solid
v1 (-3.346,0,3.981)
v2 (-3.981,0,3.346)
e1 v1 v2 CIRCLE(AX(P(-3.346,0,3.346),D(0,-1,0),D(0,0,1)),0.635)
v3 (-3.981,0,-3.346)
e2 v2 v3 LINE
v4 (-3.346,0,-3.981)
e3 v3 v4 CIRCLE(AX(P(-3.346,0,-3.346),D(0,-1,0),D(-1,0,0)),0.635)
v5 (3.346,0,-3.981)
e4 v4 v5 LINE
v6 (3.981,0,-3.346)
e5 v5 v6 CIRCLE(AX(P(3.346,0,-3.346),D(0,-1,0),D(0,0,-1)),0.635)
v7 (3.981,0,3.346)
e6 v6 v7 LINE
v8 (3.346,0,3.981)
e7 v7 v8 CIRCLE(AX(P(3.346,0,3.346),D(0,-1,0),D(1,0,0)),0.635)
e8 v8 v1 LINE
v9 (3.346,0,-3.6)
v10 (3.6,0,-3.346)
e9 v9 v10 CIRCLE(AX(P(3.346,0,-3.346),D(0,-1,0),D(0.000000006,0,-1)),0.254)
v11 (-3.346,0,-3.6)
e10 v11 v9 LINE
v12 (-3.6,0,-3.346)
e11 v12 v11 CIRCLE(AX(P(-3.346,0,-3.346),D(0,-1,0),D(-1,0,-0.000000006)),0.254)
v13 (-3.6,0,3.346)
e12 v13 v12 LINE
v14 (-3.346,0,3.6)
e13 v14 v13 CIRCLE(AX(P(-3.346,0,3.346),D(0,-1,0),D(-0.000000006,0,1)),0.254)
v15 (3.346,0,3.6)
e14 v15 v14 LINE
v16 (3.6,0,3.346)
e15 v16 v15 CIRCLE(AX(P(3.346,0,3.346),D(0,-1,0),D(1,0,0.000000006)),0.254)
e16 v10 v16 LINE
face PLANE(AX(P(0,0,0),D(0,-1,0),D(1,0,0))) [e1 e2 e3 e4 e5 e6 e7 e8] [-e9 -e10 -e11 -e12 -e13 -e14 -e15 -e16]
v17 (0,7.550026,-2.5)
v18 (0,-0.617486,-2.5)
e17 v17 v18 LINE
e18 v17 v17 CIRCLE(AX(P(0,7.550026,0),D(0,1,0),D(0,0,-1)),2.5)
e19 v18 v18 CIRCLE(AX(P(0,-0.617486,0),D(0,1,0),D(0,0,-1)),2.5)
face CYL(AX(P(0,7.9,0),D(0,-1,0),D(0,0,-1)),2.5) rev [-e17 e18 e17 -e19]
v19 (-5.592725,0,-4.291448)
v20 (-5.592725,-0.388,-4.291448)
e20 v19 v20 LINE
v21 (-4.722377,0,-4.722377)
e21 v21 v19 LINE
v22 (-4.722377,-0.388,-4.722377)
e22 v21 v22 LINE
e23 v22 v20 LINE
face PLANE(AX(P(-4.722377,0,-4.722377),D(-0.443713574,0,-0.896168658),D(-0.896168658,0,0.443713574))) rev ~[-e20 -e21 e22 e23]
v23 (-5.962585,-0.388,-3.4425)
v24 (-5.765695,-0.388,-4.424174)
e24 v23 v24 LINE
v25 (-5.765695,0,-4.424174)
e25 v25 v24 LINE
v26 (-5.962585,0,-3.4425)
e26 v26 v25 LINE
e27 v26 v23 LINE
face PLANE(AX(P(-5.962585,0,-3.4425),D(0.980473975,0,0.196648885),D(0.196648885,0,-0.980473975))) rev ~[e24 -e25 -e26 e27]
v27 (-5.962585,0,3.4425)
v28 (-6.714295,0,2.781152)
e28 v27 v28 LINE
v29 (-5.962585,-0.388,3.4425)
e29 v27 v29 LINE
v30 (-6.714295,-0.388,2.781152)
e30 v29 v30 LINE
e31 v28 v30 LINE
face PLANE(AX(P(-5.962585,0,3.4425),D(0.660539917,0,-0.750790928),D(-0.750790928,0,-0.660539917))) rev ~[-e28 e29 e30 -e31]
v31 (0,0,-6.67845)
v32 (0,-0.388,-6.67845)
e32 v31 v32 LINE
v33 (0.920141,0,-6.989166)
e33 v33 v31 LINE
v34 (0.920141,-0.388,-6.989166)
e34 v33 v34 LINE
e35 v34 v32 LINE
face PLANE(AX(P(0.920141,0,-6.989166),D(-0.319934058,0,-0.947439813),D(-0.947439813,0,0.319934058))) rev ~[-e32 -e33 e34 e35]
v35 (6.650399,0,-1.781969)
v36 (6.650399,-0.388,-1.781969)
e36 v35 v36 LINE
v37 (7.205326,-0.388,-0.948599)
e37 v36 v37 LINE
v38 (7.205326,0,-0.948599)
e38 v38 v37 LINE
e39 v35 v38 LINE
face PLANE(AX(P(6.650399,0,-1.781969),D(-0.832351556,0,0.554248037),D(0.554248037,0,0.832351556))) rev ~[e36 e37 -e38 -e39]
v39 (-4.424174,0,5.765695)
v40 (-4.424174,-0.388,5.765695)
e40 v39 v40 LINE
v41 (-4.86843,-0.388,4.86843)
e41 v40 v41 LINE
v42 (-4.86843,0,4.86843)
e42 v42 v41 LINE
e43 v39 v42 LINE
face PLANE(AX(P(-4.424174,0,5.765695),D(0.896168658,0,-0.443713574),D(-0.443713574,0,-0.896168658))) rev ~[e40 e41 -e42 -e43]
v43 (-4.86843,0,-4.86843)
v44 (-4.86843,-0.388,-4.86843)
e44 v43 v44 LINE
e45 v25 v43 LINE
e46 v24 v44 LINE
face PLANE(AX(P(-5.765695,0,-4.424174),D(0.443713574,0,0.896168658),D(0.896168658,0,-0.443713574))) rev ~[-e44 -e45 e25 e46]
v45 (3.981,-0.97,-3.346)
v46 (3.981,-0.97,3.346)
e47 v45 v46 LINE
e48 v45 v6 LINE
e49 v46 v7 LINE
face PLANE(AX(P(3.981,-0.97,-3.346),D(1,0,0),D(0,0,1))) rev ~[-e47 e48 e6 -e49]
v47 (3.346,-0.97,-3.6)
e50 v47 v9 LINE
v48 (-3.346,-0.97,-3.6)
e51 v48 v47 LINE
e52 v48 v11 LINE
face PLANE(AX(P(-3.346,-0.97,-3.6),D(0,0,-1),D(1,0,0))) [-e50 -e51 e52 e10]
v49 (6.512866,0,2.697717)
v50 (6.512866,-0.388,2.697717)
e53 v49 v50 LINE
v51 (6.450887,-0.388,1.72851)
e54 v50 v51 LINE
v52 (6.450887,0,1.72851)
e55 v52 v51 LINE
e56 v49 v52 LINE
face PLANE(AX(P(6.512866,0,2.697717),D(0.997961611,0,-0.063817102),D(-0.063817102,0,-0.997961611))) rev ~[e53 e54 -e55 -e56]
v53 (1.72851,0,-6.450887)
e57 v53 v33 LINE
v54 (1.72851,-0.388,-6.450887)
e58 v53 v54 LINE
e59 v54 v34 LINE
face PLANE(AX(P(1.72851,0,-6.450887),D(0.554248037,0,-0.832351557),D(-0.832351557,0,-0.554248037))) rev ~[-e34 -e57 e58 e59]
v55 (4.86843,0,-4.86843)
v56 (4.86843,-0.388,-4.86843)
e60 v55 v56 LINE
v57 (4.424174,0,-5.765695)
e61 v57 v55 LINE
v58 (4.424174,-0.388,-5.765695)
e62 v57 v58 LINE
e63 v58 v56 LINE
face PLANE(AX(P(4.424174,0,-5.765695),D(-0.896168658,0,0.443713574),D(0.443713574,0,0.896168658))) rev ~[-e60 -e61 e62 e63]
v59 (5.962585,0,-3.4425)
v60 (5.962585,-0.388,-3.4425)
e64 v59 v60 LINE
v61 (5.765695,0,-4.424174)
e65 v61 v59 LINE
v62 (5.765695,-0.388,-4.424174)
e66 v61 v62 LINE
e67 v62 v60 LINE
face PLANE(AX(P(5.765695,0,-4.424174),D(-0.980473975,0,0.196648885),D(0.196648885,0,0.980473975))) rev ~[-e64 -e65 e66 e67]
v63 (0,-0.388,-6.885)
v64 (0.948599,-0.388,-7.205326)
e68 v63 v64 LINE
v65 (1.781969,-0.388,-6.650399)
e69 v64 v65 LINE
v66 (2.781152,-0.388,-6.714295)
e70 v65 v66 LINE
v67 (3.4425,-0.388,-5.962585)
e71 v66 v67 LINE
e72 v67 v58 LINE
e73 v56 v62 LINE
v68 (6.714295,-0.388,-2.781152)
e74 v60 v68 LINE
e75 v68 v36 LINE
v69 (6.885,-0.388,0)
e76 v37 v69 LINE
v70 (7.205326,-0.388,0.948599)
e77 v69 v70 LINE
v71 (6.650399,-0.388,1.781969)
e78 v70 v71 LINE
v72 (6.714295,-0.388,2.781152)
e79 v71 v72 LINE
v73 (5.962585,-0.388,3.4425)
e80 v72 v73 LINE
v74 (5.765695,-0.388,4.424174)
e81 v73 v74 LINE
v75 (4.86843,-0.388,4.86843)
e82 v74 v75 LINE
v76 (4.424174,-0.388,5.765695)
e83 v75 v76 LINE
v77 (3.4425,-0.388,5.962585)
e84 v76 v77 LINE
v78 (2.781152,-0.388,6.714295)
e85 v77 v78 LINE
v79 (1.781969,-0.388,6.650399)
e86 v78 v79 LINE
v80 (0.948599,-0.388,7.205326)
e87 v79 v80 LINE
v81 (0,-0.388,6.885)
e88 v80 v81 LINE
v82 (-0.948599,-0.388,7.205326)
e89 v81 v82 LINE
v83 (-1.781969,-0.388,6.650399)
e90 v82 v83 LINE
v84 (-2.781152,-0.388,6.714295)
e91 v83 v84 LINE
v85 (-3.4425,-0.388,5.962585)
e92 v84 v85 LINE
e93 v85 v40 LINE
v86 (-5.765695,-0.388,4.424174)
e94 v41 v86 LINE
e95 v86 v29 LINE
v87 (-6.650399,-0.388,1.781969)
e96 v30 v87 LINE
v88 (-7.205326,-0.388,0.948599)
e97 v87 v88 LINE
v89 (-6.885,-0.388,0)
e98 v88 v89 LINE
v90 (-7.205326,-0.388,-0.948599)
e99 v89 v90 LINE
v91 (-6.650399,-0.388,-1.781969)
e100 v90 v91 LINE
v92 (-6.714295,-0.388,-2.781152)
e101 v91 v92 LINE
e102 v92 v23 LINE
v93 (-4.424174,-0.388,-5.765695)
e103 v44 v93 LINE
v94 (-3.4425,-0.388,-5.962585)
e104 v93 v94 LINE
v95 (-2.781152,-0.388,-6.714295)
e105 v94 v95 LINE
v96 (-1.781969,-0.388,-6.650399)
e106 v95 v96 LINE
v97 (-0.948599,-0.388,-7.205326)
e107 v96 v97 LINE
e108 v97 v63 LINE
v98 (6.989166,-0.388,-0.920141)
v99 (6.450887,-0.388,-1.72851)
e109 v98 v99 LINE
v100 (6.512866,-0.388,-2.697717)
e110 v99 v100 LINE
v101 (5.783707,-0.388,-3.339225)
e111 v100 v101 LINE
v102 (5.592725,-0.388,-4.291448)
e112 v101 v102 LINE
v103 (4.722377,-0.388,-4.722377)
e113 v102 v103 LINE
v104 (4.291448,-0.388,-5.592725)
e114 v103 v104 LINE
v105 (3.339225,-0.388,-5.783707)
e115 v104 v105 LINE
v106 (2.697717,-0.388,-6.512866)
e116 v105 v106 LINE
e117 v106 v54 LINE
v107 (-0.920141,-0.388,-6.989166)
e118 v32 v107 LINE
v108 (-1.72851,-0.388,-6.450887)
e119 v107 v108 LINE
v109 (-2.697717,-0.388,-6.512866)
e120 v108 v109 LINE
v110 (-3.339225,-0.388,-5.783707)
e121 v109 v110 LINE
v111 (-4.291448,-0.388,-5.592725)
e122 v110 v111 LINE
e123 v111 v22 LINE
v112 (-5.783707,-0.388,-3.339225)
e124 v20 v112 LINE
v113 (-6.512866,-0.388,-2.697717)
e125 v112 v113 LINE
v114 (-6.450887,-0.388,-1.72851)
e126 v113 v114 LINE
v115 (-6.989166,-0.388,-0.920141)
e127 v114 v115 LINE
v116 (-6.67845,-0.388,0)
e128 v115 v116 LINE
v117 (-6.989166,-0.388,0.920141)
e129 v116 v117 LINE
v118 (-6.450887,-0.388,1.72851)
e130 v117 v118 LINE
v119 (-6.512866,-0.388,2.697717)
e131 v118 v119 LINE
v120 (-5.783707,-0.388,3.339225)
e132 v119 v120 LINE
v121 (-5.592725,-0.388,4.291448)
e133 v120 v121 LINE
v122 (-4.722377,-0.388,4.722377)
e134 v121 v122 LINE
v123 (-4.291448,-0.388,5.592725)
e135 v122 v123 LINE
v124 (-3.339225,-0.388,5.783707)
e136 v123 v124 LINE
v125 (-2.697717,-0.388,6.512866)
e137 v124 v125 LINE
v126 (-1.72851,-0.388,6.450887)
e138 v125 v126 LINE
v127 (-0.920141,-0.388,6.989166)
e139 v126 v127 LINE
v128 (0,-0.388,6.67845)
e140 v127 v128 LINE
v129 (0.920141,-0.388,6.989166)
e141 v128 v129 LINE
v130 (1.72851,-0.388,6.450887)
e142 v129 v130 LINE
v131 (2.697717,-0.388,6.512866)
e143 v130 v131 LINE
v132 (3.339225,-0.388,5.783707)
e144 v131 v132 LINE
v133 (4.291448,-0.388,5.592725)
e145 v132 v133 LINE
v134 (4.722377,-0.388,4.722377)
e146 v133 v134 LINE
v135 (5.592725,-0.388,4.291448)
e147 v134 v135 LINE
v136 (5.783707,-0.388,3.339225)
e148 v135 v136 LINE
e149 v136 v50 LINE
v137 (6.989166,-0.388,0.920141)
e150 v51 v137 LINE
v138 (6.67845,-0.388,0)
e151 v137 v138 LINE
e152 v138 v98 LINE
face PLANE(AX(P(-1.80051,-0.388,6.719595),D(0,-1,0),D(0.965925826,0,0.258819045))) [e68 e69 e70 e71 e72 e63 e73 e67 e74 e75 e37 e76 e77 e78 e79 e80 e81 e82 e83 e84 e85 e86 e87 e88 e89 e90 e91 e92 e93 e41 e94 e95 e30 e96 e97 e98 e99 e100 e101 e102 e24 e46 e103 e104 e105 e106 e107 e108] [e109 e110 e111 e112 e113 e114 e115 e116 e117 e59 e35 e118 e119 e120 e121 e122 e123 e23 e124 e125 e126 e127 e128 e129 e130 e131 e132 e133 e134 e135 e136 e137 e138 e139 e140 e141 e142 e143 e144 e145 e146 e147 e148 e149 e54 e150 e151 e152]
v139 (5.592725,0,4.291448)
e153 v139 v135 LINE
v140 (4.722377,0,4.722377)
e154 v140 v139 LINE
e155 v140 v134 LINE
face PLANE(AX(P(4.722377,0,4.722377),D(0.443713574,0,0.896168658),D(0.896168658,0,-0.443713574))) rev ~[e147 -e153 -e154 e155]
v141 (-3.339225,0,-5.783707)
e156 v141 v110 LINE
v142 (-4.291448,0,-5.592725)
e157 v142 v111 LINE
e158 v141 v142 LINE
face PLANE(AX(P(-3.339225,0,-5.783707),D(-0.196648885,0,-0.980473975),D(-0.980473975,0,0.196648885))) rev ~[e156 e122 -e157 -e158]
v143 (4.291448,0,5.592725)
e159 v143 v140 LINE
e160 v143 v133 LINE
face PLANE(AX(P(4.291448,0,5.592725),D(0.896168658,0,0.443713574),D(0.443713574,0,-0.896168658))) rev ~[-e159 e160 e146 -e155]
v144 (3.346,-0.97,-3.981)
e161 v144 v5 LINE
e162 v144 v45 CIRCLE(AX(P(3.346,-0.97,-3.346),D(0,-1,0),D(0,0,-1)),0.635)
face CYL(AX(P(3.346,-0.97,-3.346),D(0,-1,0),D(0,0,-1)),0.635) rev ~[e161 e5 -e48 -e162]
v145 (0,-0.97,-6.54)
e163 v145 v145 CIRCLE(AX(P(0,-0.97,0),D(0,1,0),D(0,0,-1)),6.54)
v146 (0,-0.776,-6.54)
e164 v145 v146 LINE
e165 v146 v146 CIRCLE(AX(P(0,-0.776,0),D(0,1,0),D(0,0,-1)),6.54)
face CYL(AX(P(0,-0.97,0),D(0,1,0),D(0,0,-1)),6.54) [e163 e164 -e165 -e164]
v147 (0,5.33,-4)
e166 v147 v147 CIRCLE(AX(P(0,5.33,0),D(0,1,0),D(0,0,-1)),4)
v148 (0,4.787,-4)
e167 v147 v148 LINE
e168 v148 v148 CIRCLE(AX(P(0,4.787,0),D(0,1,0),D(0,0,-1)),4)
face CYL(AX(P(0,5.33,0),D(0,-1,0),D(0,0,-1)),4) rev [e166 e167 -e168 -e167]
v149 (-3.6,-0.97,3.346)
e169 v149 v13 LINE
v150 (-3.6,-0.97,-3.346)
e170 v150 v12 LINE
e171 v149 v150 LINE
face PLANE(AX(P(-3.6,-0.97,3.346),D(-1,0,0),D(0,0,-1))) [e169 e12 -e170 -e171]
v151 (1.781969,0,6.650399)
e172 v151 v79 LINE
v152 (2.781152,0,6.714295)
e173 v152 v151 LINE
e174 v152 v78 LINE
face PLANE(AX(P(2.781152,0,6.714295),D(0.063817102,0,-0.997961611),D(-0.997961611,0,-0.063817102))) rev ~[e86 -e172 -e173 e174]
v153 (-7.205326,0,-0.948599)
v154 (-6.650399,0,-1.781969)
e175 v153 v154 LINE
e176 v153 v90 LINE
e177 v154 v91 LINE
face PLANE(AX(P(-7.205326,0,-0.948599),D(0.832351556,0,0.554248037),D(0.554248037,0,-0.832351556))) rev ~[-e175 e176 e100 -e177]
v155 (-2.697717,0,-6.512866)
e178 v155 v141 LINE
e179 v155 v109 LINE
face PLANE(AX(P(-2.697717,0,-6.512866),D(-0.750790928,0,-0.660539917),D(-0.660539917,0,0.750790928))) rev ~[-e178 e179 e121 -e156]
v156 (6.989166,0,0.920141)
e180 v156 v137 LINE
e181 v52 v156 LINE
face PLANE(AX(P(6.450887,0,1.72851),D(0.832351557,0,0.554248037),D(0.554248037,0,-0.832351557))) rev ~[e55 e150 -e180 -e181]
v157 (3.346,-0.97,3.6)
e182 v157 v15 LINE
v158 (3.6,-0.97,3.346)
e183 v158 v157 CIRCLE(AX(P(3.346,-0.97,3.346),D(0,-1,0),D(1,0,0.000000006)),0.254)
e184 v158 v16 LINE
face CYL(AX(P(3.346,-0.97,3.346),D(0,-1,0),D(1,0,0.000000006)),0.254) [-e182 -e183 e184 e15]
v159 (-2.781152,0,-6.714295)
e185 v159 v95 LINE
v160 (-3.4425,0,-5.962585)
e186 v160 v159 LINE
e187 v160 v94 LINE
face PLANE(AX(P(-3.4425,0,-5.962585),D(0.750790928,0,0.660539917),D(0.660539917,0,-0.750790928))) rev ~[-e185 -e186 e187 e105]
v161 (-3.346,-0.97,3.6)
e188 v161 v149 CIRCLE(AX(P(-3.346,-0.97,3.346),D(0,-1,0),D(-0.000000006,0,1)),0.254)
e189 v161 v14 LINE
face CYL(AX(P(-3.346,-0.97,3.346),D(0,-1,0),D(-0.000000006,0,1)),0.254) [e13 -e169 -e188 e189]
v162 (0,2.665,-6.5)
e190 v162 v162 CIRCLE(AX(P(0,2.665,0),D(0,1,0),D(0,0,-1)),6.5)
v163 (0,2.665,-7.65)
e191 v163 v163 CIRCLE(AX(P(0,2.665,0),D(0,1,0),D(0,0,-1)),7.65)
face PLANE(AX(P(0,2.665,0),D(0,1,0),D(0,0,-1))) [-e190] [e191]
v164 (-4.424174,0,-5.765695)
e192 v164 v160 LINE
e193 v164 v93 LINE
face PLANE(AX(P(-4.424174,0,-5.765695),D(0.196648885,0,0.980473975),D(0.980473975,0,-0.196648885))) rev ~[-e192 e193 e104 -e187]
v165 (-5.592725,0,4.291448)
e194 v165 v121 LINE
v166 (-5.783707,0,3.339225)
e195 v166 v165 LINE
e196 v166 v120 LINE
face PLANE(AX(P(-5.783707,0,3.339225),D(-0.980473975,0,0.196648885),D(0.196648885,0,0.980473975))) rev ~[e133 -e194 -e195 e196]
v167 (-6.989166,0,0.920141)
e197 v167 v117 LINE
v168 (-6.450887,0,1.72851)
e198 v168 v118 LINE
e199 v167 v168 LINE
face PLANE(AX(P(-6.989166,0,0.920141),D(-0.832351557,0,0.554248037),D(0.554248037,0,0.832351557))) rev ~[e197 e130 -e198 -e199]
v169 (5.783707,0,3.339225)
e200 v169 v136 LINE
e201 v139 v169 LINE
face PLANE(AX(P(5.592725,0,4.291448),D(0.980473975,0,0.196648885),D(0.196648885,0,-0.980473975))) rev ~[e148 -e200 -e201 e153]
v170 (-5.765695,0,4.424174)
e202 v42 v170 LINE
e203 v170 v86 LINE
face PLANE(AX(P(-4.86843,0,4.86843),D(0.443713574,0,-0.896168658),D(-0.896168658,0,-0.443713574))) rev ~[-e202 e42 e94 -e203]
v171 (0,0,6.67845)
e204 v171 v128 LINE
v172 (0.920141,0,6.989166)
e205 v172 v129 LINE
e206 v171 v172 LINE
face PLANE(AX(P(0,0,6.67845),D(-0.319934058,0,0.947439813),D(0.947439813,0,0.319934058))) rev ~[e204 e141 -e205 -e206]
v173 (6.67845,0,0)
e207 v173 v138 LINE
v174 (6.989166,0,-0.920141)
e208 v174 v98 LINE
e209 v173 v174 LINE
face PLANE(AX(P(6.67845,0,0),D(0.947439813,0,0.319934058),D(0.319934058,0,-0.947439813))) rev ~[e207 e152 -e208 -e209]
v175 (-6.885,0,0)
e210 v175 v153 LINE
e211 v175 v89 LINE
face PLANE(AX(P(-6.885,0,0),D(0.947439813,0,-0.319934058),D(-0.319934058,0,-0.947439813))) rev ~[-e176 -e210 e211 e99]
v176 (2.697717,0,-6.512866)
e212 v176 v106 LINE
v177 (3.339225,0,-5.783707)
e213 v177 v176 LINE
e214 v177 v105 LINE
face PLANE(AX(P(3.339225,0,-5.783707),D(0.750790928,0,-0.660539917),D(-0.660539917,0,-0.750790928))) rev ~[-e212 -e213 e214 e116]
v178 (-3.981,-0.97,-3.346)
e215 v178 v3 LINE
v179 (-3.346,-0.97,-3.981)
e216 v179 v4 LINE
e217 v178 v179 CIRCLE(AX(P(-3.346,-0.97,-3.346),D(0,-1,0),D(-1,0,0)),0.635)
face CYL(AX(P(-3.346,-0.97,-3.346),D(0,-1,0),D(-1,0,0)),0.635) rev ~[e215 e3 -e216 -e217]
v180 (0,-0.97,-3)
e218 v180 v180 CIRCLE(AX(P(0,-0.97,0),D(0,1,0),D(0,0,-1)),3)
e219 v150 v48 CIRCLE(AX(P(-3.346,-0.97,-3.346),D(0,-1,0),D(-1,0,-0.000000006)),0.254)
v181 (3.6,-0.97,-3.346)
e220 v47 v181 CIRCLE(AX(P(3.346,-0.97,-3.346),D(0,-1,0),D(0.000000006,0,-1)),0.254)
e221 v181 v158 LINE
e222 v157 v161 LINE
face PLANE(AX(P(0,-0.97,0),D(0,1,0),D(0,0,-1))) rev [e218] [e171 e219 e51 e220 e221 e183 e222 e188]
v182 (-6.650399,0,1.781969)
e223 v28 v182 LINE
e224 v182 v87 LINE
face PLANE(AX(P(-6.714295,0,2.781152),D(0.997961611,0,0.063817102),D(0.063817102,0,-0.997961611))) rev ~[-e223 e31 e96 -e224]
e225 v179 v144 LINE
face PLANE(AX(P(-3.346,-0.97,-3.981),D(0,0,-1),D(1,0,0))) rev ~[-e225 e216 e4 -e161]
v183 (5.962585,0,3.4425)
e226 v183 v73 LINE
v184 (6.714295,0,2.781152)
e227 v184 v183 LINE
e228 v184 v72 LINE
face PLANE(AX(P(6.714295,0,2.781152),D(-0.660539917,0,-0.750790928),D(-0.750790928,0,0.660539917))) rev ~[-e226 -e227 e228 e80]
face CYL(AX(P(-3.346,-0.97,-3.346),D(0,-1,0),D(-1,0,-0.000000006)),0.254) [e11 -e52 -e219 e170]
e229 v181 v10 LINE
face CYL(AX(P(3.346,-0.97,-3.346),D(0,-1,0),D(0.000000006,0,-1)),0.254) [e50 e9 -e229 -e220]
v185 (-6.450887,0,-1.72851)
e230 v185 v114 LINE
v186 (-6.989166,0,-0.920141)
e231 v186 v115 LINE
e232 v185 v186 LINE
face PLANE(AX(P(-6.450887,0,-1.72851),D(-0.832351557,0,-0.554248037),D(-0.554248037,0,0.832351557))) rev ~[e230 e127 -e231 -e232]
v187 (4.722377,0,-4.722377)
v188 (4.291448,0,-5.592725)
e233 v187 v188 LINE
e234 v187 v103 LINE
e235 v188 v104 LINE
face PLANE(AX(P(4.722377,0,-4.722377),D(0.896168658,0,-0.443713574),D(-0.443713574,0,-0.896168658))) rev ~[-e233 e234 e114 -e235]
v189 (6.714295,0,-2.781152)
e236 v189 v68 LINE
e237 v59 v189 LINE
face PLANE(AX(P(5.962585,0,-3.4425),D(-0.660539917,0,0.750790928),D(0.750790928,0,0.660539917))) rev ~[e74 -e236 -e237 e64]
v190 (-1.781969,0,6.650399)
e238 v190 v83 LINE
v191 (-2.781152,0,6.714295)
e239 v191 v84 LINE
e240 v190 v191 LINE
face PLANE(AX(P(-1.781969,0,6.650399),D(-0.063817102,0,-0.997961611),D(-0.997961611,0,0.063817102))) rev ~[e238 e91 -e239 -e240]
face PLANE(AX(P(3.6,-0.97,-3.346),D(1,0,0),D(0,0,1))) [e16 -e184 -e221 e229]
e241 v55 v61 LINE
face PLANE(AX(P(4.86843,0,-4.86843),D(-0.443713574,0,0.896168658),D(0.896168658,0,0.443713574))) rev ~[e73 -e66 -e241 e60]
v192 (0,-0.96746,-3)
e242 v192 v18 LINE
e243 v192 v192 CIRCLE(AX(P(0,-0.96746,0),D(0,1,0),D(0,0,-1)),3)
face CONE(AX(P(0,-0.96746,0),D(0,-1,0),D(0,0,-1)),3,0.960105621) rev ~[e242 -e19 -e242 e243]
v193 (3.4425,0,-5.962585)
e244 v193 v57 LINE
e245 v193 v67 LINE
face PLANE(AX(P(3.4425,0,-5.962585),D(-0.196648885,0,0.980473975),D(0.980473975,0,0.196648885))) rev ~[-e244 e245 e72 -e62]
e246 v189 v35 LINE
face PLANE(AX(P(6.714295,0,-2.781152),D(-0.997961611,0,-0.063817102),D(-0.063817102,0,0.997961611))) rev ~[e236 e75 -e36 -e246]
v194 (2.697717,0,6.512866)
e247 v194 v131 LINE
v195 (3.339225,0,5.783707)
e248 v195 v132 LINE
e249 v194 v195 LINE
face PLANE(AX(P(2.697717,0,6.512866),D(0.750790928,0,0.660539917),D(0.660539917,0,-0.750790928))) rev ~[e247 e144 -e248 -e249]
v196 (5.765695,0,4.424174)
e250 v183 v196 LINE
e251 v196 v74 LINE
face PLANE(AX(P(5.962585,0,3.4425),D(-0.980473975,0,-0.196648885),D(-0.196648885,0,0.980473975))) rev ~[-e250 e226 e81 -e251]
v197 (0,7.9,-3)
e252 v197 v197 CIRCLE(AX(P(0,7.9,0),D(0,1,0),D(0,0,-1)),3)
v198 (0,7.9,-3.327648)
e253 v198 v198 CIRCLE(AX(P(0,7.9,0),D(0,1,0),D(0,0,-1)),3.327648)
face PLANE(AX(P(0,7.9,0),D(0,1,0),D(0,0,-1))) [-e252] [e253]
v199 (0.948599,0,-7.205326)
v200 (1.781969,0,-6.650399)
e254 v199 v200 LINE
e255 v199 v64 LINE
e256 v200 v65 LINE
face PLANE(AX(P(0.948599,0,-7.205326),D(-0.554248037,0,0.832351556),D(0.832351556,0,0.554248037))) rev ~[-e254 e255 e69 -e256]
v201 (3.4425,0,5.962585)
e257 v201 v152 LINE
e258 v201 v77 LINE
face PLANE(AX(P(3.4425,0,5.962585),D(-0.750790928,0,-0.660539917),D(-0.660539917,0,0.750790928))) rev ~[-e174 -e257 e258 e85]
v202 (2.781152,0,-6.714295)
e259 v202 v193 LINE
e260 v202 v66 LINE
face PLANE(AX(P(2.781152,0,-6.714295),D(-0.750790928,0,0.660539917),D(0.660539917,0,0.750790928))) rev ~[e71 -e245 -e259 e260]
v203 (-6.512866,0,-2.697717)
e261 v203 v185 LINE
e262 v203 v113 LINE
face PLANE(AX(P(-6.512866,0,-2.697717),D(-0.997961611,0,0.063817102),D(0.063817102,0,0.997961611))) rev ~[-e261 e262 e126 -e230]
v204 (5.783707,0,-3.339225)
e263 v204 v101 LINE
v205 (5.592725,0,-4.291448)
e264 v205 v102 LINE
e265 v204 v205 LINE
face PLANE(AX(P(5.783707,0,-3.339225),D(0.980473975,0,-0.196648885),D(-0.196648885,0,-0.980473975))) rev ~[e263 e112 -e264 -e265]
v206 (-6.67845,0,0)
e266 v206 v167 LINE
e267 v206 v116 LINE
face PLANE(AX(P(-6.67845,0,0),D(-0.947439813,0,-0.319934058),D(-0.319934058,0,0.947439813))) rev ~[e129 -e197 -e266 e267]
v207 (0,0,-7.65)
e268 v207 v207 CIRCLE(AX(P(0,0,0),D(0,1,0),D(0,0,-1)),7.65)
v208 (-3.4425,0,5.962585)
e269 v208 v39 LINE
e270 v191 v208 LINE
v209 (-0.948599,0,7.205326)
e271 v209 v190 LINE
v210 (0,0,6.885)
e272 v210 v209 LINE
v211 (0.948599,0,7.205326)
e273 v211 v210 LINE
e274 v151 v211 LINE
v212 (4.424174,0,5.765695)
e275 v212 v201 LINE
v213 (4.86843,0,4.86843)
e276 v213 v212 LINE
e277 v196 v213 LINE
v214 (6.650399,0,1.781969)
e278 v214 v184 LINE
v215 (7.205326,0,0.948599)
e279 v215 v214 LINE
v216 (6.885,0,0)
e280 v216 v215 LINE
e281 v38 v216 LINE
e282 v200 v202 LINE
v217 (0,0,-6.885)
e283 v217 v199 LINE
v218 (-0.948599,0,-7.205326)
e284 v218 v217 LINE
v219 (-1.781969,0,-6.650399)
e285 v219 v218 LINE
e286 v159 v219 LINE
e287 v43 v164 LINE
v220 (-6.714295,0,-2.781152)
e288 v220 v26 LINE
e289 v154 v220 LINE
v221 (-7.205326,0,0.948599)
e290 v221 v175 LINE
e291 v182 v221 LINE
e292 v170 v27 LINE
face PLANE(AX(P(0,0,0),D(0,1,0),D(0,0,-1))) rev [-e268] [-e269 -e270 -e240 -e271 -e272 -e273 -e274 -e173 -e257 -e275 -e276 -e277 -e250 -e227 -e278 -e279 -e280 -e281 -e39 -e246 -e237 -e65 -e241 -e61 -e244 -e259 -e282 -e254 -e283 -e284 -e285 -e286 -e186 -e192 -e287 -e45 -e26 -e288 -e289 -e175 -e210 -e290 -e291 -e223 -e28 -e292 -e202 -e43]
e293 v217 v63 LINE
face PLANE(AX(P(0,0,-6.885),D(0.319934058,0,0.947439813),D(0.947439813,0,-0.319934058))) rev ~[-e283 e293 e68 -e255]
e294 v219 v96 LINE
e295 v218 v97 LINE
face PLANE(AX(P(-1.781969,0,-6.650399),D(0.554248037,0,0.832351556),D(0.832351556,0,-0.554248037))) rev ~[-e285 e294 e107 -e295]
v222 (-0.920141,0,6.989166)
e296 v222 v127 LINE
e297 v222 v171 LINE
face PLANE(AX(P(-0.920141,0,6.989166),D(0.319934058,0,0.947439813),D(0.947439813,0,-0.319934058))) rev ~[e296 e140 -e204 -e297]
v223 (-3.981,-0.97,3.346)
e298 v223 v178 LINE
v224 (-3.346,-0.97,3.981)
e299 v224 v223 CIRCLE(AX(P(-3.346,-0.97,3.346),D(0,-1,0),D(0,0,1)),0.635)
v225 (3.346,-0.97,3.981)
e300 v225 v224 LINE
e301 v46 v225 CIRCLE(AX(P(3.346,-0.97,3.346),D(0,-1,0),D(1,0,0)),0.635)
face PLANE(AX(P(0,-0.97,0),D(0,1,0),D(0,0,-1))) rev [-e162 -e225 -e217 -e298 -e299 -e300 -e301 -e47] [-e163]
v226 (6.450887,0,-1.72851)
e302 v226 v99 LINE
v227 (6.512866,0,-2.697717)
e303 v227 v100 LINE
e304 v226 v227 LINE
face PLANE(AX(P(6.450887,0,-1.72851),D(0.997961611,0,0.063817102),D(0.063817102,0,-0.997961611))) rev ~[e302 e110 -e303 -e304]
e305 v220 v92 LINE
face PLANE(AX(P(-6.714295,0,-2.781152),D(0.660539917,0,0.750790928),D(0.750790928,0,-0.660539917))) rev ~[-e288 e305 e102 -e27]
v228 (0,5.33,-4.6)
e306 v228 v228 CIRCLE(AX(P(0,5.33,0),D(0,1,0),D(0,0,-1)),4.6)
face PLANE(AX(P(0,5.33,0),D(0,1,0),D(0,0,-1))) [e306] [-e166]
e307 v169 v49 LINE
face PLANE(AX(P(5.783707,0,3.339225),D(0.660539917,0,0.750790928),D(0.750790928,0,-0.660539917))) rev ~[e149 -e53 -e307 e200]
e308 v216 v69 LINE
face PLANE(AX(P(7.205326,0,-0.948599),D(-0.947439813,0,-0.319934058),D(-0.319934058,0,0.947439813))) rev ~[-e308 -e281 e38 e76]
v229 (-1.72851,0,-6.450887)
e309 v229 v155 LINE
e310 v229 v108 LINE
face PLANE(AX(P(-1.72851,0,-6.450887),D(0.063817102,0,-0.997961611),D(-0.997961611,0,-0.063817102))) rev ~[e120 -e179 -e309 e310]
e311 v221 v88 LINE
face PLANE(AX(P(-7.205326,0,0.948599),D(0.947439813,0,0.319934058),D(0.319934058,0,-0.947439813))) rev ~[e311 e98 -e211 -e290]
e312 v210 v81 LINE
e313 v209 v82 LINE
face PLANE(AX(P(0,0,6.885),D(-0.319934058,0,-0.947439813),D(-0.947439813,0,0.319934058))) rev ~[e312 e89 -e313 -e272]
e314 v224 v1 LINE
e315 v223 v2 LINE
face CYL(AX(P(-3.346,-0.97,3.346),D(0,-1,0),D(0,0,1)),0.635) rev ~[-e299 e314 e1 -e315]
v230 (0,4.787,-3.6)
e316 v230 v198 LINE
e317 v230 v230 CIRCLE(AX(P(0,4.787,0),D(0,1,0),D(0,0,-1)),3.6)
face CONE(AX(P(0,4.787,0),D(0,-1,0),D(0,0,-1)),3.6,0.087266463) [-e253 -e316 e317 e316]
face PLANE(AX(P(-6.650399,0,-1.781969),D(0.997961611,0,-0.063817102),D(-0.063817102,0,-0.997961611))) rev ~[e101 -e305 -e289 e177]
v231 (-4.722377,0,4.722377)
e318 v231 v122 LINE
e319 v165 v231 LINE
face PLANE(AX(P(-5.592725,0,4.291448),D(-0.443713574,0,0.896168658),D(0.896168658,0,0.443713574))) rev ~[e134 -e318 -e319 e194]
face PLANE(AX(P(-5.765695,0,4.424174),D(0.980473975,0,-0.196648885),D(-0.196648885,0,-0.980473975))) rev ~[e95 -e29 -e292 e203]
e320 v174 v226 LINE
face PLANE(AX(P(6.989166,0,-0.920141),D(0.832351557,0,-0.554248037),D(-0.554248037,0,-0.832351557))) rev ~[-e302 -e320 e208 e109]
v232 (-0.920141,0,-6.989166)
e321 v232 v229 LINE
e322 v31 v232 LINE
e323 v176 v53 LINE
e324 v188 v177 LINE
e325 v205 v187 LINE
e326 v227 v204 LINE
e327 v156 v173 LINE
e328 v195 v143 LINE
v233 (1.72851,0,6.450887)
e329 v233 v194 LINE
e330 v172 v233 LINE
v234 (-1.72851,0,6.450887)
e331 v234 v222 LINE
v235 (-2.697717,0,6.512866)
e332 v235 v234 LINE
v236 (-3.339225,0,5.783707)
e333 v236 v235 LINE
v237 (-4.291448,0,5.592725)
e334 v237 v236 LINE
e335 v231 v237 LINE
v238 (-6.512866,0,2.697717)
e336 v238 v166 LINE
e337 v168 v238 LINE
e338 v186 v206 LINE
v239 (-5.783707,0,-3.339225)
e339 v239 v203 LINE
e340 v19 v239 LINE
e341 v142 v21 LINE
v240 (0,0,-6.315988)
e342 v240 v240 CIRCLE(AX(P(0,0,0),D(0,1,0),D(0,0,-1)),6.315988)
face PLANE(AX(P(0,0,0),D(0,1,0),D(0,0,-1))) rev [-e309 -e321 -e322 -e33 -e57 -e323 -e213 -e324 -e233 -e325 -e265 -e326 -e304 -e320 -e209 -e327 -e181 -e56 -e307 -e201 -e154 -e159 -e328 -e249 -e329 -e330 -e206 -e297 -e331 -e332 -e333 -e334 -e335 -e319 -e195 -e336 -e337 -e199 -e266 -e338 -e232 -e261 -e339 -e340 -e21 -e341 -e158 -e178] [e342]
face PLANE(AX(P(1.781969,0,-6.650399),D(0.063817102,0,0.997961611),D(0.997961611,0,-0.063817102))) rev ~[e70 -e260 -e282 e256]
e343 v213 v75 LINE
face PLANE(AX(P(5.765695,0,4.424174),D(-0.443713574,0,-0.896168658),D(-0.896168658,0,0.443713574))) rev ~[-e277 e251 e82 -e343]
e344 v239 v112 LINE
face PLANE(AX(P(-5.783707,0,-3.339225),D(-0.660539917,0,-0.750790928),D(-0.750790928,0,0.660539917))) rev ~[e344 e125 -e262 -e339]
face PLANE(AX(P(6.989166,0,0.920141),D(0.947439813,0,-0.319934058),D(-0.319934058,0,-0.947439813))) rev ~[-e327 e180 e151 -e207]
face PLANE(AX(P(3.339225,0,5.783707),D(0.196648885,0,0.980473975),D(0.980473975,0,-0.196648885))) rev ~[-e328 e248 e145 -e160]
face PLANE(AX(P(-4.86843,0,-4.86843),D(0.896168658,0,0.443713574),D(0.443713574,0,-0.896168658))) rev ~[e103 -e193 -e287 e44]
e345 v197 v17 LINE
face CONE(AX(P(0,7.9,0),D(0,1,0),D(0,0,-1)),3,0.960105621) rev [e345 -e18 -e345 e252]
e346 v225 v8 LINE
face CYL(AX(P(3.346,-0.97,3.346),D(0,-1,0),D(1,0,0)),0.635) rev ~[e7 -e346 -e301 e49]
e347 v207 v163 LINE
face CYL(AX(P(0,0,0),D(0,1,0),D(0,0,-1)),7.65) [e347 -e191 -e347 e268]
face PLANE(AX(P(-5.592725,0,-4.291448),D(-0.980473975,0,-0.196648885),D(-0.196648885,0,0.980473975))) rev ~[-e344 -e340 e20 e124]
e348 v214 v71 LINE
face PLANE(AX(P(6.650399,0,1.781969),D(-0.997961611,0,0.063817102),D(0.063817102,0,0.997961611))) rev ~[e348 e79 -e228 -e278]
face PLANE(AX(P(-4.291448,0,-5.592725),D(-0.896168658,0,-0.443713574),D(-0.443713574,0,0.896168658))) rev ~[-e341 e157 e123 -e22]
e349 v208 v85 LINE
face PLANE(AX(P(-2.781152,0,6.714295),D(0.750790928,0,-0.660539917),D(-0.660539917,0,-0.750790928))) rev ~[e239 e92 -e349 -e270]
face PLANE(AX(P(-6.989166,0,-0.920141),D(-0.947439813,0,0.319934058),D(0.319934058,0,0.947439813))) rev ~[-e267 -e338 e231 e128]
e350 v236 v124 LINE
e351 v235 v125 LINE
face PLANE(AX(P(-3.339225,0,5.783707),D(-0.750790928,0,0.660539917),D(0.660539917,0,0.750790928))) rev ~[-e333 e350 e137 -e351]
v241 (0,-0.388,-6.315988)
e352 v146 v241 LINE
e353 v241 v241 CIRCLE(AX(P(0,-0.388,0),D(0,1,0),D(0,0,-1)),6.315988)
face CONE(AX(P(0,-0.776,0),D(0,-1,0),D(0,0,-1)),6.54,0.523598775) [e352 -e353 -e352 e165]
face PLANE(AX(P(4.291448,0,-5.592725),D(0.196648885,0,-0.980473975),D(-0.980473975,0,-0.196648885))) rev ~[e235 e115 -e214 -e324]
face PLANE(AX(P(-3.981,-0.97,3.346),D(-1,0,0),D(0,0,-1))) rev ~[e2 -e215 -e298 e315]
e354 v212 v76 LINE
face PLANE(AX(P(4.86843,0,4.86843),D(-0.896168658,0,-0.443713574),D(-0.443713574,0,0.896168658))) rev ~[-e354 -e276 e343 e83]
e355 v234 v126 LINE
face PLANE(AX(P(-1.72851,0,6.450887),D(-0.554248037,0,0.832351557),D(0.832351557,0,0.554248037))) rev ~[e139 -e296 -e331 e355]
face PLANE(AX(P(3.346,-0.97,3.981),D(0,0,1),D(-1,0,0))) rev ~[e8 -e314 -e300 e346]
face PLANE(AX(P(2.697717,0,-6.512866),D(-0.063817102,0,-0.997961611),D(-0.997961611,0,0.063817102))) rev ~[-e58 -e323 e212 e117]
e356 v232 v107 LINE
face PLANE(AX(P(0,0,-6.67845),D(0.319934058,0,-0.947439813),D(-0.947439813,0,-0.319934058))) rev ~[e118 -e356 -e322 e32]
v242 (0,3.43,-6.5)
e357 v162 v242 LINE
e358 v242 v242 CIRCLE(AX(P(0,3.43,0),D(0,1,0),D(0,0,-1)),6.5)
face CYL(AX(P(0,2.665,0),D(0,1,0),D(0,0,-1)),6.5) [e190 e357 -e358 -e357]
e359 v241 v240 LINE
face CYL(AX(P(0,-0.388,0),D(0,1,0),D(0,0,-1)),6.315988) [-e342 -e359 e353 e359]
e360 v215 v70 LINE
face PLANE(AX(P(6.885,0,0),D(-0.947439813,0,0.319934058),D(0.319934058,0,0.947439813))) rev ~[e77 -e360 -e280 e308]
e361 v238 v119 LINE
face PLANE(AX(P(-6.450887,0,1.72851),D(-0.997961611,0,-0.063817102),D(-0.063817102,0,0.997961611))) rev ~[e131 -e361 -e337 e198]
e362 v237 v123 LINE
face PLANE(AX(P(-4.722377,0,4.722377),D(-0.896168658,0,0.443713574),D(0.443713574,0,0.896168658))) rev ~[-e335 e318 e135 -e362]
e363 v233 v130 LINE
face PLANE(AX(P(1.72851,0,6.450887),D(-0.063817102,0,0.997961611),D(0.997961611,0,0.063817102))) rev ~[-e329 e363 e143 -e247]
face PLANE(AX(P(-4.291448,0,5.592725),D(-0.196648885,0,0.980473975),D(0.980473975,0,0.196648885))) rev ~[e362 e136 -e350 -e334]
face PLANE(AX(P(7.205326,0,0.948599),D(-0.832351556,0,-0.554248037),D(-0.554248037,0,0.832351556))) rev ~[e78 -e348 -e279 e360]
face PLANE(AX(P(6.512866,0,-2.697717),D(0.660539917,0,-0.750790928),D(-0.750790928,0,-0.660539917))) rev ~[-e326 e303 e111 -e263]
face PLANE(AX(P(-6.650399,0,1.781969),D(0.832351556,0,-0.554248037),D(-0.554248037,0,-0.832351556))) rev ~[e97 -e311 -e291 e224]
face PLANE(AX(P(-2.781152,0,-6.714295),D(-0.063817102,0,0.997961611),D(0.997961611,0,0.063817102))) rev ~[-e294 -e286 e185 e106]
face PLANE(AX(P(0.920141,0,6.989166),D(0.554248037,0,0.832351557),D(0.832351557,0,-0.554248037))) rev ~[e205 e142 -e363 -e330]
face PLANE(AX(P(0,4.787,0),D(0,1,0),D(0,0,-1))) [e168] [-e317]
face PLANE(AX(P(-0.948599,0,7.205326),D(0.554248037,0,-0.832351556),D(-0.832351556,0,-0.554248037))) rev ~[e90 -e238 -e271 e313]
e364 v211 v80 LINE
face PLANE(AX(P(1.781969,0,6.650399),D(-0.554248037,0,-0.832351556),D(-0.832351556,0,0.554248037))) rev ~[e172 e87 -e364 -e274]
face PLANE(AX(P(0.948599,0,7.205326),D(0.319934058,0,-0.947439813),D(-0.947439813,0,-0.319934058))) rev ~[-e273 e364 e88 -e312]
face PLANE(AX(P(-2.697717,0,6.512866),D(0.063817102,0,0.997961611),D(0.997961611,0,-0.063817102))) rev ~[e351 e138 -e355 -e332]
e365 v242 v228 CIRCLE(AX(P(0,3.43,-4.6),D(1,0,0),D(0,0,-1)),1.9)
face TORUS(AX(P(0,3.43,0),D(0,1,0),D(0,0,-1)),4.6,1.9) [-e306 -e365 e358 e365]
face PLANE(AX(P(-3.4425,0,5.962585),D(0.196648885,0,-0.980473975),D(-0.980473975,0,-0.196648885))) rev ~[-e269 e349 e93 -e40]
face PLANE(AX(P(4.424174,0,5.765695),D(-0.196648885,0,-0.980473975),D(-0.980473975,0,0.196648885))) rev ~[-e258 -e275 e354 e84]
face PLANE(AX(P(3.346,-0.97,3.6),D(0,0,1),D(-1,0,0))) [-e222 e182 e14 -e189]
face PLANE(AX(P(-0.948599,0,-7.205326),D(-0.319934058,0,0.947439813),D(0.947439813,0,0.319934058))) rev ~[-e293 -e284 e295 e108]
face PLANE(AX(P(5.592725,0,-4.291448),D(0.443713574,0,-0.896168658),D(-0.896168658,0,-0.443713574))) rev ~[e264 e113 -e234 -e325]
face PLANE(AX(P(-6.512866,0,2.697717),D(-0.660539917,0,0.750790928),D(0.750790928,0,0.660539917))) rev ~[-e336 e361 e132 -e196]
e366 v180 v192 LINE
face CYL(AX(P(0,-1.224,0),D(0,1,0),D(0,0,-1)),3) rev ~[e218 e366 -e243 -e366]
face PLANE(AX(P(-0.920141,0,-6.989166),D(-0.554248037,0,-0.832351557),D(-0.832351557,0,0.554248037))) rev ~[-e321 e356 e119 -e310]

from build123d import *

# Parameters (mm, degrees)
CLINCHINGRINGSEGMENT_DEPTH = 0.388
CLINCHINGRING_COUNT        = 24
CLINCHINGRING_ANGLE        = 345
SQRCUT_DEPTH               = 0.97


with BuildPart() as part:
    # BodySke → Body (revolve)
    with BuildSketch(Plane.XY, mode=Mode.PRIVATE) as body_sk:
        with BuildLine():
            Line((6.315988096, 0), (7.65, 0))
            Line((7.65, 0), (7.65, 2.665))
            Line((7.65, 2.665), (6.5, 2.665))
            Line((6.5, 2.665), (6.5, 3.43))
            ThreePointArc((6.5, 3.43), (5.943502884, 4.773502884), (4.6, 5.33))
            Line((4.6, 5.33), (4, 5.33))
            Line((4, 5.33), (4, 4.787))
            Line((4, 4.787), (3.6, 4.787))
            Line((3.6, 4.787), (3.32764779, 7.9))
            Line((3.32764779, 7.9), (2.5, 7.9))
            Line((2.5, 7.9), (2.5, -0.97))
            Line((2.5, -0.97), (6.54, -0.97))
            Line((6.54, -0.97), (6.54, -0.776))
            Line((6.54, -0.776), (6.315988096, -0.388))
            Line((6.315988096, -0.388), (6.315988096, 0))
        make_face()
    revolve(body_sk.sketch.rotate(Axis((0, 0, 0), (0, 1, 0)), 90), axis=Axis((0, 0, 0), (0, 1, 0)))

    # EndChamferSke → EndChamfer (revolve, cut)
    with BuildSketch(Plane.XY, mode=Mode.PRIVATE) as endchamfer_sk:
        Polygon((3, -1.224), (3, -0.96746), (2.5, -0.617486267), (2.5, -1.224), align=None)
        Polygon((3, 7.9), (2.5, 7.550026267), (2.5, 7.9), align=None)
    revolve(endchamfer_sk.sketch.rotate(Axis((0, -2.54, 0), (0, 1, 0)), 90), axis=Axis((0, -2.54, 0), (0, 1, 0)), mode=Mode.SUBTRACT)

    # CliRinSegSke → ClinchingRingSegment (add)
    with BuildSketch(Plane.XZ):
        Polygon((0.948599102, 7.20532553), (0, 6.885), (-0.948599102, 7.20532553), (-0.920141129, 6.989165764), (0, 6.67845), (0.920141129, 6.989165764), align=None)
    clinchingringsegment = extrude(amount=CLINCHINGRINGSEGMENT_DEPTH)

    # ClinchingRing: ClinchingRingSegment ×24 about axis
    clinchingring_axis = Axis((0, 0, 0), (0, 1, 0))
    for i in range(1, CLINCHINGRING_COUNT):
        add(clinchingringsegment.rotate(clinchingring_axis, i * CLINCHINGRING_ANGLE / (CLINCHINGRING_COUNT - 1)))

    # SqrCutSke → SqrCut (cut)
    with BuildSketch(Plane.XZ.offset(0.97)):
        with BuildLine():
            Line((-3.346, -3.981), (3.346, -3.981))
            ThreePointArc((3.346, -3.981), (3.795012806, -3.795012806), (3.981, -3.346))
            Line((3.981, -3.346), (3.981, 3.346))
            ThreePointArc((3.981, 3.346), (3.795012806, 3.795012806), (3.346, 3.981))
            Line((3.346, 3.981), (-3.346, 3.981))
            ThreePointArc((-3.346, 3.981), (-3.795012806, 3.795012806), (-3.981, 3.346))
            Line((-3.981, 3.346), (-3.981, -3.346))
            ThreePointArc((-3.981, -3.346), (-3.795012806, -3.795012806), (-3.346, -3.981))
        make_face()
        with BuildLine():
            Line((3.6, -3.346), (3.6, 3.346))
            ThreePointArc((3.6, 3.346), (3.525605122, 3.525605122), (3.346, 3.6))
            Line((3.346, 3.6), (-3.346, 3.6))
            ThreePointArc((-3.346, 3.6), (-3.525605122, 3.525605122), (-3.6, 3.346))
            Line((-3.6, 3.346), (-3.6, -3.346))
            ThreePointArc((-3.6, -3.346), (-3.525605122, -3.525605122), (-3.346, -3.6))
            Line((-3.346, -3.6), (3.346, -3.6))
            ThreePointArc((3.346, -3.6), (3.525605122, -3.525605122), (3.6, -3.346))
        make_face(mode=Mode.SUBTRACT)
    extrude(amount=-SQRCUT_DEPTH, mode=Mode.SUBTRACT)


solid = part.part
